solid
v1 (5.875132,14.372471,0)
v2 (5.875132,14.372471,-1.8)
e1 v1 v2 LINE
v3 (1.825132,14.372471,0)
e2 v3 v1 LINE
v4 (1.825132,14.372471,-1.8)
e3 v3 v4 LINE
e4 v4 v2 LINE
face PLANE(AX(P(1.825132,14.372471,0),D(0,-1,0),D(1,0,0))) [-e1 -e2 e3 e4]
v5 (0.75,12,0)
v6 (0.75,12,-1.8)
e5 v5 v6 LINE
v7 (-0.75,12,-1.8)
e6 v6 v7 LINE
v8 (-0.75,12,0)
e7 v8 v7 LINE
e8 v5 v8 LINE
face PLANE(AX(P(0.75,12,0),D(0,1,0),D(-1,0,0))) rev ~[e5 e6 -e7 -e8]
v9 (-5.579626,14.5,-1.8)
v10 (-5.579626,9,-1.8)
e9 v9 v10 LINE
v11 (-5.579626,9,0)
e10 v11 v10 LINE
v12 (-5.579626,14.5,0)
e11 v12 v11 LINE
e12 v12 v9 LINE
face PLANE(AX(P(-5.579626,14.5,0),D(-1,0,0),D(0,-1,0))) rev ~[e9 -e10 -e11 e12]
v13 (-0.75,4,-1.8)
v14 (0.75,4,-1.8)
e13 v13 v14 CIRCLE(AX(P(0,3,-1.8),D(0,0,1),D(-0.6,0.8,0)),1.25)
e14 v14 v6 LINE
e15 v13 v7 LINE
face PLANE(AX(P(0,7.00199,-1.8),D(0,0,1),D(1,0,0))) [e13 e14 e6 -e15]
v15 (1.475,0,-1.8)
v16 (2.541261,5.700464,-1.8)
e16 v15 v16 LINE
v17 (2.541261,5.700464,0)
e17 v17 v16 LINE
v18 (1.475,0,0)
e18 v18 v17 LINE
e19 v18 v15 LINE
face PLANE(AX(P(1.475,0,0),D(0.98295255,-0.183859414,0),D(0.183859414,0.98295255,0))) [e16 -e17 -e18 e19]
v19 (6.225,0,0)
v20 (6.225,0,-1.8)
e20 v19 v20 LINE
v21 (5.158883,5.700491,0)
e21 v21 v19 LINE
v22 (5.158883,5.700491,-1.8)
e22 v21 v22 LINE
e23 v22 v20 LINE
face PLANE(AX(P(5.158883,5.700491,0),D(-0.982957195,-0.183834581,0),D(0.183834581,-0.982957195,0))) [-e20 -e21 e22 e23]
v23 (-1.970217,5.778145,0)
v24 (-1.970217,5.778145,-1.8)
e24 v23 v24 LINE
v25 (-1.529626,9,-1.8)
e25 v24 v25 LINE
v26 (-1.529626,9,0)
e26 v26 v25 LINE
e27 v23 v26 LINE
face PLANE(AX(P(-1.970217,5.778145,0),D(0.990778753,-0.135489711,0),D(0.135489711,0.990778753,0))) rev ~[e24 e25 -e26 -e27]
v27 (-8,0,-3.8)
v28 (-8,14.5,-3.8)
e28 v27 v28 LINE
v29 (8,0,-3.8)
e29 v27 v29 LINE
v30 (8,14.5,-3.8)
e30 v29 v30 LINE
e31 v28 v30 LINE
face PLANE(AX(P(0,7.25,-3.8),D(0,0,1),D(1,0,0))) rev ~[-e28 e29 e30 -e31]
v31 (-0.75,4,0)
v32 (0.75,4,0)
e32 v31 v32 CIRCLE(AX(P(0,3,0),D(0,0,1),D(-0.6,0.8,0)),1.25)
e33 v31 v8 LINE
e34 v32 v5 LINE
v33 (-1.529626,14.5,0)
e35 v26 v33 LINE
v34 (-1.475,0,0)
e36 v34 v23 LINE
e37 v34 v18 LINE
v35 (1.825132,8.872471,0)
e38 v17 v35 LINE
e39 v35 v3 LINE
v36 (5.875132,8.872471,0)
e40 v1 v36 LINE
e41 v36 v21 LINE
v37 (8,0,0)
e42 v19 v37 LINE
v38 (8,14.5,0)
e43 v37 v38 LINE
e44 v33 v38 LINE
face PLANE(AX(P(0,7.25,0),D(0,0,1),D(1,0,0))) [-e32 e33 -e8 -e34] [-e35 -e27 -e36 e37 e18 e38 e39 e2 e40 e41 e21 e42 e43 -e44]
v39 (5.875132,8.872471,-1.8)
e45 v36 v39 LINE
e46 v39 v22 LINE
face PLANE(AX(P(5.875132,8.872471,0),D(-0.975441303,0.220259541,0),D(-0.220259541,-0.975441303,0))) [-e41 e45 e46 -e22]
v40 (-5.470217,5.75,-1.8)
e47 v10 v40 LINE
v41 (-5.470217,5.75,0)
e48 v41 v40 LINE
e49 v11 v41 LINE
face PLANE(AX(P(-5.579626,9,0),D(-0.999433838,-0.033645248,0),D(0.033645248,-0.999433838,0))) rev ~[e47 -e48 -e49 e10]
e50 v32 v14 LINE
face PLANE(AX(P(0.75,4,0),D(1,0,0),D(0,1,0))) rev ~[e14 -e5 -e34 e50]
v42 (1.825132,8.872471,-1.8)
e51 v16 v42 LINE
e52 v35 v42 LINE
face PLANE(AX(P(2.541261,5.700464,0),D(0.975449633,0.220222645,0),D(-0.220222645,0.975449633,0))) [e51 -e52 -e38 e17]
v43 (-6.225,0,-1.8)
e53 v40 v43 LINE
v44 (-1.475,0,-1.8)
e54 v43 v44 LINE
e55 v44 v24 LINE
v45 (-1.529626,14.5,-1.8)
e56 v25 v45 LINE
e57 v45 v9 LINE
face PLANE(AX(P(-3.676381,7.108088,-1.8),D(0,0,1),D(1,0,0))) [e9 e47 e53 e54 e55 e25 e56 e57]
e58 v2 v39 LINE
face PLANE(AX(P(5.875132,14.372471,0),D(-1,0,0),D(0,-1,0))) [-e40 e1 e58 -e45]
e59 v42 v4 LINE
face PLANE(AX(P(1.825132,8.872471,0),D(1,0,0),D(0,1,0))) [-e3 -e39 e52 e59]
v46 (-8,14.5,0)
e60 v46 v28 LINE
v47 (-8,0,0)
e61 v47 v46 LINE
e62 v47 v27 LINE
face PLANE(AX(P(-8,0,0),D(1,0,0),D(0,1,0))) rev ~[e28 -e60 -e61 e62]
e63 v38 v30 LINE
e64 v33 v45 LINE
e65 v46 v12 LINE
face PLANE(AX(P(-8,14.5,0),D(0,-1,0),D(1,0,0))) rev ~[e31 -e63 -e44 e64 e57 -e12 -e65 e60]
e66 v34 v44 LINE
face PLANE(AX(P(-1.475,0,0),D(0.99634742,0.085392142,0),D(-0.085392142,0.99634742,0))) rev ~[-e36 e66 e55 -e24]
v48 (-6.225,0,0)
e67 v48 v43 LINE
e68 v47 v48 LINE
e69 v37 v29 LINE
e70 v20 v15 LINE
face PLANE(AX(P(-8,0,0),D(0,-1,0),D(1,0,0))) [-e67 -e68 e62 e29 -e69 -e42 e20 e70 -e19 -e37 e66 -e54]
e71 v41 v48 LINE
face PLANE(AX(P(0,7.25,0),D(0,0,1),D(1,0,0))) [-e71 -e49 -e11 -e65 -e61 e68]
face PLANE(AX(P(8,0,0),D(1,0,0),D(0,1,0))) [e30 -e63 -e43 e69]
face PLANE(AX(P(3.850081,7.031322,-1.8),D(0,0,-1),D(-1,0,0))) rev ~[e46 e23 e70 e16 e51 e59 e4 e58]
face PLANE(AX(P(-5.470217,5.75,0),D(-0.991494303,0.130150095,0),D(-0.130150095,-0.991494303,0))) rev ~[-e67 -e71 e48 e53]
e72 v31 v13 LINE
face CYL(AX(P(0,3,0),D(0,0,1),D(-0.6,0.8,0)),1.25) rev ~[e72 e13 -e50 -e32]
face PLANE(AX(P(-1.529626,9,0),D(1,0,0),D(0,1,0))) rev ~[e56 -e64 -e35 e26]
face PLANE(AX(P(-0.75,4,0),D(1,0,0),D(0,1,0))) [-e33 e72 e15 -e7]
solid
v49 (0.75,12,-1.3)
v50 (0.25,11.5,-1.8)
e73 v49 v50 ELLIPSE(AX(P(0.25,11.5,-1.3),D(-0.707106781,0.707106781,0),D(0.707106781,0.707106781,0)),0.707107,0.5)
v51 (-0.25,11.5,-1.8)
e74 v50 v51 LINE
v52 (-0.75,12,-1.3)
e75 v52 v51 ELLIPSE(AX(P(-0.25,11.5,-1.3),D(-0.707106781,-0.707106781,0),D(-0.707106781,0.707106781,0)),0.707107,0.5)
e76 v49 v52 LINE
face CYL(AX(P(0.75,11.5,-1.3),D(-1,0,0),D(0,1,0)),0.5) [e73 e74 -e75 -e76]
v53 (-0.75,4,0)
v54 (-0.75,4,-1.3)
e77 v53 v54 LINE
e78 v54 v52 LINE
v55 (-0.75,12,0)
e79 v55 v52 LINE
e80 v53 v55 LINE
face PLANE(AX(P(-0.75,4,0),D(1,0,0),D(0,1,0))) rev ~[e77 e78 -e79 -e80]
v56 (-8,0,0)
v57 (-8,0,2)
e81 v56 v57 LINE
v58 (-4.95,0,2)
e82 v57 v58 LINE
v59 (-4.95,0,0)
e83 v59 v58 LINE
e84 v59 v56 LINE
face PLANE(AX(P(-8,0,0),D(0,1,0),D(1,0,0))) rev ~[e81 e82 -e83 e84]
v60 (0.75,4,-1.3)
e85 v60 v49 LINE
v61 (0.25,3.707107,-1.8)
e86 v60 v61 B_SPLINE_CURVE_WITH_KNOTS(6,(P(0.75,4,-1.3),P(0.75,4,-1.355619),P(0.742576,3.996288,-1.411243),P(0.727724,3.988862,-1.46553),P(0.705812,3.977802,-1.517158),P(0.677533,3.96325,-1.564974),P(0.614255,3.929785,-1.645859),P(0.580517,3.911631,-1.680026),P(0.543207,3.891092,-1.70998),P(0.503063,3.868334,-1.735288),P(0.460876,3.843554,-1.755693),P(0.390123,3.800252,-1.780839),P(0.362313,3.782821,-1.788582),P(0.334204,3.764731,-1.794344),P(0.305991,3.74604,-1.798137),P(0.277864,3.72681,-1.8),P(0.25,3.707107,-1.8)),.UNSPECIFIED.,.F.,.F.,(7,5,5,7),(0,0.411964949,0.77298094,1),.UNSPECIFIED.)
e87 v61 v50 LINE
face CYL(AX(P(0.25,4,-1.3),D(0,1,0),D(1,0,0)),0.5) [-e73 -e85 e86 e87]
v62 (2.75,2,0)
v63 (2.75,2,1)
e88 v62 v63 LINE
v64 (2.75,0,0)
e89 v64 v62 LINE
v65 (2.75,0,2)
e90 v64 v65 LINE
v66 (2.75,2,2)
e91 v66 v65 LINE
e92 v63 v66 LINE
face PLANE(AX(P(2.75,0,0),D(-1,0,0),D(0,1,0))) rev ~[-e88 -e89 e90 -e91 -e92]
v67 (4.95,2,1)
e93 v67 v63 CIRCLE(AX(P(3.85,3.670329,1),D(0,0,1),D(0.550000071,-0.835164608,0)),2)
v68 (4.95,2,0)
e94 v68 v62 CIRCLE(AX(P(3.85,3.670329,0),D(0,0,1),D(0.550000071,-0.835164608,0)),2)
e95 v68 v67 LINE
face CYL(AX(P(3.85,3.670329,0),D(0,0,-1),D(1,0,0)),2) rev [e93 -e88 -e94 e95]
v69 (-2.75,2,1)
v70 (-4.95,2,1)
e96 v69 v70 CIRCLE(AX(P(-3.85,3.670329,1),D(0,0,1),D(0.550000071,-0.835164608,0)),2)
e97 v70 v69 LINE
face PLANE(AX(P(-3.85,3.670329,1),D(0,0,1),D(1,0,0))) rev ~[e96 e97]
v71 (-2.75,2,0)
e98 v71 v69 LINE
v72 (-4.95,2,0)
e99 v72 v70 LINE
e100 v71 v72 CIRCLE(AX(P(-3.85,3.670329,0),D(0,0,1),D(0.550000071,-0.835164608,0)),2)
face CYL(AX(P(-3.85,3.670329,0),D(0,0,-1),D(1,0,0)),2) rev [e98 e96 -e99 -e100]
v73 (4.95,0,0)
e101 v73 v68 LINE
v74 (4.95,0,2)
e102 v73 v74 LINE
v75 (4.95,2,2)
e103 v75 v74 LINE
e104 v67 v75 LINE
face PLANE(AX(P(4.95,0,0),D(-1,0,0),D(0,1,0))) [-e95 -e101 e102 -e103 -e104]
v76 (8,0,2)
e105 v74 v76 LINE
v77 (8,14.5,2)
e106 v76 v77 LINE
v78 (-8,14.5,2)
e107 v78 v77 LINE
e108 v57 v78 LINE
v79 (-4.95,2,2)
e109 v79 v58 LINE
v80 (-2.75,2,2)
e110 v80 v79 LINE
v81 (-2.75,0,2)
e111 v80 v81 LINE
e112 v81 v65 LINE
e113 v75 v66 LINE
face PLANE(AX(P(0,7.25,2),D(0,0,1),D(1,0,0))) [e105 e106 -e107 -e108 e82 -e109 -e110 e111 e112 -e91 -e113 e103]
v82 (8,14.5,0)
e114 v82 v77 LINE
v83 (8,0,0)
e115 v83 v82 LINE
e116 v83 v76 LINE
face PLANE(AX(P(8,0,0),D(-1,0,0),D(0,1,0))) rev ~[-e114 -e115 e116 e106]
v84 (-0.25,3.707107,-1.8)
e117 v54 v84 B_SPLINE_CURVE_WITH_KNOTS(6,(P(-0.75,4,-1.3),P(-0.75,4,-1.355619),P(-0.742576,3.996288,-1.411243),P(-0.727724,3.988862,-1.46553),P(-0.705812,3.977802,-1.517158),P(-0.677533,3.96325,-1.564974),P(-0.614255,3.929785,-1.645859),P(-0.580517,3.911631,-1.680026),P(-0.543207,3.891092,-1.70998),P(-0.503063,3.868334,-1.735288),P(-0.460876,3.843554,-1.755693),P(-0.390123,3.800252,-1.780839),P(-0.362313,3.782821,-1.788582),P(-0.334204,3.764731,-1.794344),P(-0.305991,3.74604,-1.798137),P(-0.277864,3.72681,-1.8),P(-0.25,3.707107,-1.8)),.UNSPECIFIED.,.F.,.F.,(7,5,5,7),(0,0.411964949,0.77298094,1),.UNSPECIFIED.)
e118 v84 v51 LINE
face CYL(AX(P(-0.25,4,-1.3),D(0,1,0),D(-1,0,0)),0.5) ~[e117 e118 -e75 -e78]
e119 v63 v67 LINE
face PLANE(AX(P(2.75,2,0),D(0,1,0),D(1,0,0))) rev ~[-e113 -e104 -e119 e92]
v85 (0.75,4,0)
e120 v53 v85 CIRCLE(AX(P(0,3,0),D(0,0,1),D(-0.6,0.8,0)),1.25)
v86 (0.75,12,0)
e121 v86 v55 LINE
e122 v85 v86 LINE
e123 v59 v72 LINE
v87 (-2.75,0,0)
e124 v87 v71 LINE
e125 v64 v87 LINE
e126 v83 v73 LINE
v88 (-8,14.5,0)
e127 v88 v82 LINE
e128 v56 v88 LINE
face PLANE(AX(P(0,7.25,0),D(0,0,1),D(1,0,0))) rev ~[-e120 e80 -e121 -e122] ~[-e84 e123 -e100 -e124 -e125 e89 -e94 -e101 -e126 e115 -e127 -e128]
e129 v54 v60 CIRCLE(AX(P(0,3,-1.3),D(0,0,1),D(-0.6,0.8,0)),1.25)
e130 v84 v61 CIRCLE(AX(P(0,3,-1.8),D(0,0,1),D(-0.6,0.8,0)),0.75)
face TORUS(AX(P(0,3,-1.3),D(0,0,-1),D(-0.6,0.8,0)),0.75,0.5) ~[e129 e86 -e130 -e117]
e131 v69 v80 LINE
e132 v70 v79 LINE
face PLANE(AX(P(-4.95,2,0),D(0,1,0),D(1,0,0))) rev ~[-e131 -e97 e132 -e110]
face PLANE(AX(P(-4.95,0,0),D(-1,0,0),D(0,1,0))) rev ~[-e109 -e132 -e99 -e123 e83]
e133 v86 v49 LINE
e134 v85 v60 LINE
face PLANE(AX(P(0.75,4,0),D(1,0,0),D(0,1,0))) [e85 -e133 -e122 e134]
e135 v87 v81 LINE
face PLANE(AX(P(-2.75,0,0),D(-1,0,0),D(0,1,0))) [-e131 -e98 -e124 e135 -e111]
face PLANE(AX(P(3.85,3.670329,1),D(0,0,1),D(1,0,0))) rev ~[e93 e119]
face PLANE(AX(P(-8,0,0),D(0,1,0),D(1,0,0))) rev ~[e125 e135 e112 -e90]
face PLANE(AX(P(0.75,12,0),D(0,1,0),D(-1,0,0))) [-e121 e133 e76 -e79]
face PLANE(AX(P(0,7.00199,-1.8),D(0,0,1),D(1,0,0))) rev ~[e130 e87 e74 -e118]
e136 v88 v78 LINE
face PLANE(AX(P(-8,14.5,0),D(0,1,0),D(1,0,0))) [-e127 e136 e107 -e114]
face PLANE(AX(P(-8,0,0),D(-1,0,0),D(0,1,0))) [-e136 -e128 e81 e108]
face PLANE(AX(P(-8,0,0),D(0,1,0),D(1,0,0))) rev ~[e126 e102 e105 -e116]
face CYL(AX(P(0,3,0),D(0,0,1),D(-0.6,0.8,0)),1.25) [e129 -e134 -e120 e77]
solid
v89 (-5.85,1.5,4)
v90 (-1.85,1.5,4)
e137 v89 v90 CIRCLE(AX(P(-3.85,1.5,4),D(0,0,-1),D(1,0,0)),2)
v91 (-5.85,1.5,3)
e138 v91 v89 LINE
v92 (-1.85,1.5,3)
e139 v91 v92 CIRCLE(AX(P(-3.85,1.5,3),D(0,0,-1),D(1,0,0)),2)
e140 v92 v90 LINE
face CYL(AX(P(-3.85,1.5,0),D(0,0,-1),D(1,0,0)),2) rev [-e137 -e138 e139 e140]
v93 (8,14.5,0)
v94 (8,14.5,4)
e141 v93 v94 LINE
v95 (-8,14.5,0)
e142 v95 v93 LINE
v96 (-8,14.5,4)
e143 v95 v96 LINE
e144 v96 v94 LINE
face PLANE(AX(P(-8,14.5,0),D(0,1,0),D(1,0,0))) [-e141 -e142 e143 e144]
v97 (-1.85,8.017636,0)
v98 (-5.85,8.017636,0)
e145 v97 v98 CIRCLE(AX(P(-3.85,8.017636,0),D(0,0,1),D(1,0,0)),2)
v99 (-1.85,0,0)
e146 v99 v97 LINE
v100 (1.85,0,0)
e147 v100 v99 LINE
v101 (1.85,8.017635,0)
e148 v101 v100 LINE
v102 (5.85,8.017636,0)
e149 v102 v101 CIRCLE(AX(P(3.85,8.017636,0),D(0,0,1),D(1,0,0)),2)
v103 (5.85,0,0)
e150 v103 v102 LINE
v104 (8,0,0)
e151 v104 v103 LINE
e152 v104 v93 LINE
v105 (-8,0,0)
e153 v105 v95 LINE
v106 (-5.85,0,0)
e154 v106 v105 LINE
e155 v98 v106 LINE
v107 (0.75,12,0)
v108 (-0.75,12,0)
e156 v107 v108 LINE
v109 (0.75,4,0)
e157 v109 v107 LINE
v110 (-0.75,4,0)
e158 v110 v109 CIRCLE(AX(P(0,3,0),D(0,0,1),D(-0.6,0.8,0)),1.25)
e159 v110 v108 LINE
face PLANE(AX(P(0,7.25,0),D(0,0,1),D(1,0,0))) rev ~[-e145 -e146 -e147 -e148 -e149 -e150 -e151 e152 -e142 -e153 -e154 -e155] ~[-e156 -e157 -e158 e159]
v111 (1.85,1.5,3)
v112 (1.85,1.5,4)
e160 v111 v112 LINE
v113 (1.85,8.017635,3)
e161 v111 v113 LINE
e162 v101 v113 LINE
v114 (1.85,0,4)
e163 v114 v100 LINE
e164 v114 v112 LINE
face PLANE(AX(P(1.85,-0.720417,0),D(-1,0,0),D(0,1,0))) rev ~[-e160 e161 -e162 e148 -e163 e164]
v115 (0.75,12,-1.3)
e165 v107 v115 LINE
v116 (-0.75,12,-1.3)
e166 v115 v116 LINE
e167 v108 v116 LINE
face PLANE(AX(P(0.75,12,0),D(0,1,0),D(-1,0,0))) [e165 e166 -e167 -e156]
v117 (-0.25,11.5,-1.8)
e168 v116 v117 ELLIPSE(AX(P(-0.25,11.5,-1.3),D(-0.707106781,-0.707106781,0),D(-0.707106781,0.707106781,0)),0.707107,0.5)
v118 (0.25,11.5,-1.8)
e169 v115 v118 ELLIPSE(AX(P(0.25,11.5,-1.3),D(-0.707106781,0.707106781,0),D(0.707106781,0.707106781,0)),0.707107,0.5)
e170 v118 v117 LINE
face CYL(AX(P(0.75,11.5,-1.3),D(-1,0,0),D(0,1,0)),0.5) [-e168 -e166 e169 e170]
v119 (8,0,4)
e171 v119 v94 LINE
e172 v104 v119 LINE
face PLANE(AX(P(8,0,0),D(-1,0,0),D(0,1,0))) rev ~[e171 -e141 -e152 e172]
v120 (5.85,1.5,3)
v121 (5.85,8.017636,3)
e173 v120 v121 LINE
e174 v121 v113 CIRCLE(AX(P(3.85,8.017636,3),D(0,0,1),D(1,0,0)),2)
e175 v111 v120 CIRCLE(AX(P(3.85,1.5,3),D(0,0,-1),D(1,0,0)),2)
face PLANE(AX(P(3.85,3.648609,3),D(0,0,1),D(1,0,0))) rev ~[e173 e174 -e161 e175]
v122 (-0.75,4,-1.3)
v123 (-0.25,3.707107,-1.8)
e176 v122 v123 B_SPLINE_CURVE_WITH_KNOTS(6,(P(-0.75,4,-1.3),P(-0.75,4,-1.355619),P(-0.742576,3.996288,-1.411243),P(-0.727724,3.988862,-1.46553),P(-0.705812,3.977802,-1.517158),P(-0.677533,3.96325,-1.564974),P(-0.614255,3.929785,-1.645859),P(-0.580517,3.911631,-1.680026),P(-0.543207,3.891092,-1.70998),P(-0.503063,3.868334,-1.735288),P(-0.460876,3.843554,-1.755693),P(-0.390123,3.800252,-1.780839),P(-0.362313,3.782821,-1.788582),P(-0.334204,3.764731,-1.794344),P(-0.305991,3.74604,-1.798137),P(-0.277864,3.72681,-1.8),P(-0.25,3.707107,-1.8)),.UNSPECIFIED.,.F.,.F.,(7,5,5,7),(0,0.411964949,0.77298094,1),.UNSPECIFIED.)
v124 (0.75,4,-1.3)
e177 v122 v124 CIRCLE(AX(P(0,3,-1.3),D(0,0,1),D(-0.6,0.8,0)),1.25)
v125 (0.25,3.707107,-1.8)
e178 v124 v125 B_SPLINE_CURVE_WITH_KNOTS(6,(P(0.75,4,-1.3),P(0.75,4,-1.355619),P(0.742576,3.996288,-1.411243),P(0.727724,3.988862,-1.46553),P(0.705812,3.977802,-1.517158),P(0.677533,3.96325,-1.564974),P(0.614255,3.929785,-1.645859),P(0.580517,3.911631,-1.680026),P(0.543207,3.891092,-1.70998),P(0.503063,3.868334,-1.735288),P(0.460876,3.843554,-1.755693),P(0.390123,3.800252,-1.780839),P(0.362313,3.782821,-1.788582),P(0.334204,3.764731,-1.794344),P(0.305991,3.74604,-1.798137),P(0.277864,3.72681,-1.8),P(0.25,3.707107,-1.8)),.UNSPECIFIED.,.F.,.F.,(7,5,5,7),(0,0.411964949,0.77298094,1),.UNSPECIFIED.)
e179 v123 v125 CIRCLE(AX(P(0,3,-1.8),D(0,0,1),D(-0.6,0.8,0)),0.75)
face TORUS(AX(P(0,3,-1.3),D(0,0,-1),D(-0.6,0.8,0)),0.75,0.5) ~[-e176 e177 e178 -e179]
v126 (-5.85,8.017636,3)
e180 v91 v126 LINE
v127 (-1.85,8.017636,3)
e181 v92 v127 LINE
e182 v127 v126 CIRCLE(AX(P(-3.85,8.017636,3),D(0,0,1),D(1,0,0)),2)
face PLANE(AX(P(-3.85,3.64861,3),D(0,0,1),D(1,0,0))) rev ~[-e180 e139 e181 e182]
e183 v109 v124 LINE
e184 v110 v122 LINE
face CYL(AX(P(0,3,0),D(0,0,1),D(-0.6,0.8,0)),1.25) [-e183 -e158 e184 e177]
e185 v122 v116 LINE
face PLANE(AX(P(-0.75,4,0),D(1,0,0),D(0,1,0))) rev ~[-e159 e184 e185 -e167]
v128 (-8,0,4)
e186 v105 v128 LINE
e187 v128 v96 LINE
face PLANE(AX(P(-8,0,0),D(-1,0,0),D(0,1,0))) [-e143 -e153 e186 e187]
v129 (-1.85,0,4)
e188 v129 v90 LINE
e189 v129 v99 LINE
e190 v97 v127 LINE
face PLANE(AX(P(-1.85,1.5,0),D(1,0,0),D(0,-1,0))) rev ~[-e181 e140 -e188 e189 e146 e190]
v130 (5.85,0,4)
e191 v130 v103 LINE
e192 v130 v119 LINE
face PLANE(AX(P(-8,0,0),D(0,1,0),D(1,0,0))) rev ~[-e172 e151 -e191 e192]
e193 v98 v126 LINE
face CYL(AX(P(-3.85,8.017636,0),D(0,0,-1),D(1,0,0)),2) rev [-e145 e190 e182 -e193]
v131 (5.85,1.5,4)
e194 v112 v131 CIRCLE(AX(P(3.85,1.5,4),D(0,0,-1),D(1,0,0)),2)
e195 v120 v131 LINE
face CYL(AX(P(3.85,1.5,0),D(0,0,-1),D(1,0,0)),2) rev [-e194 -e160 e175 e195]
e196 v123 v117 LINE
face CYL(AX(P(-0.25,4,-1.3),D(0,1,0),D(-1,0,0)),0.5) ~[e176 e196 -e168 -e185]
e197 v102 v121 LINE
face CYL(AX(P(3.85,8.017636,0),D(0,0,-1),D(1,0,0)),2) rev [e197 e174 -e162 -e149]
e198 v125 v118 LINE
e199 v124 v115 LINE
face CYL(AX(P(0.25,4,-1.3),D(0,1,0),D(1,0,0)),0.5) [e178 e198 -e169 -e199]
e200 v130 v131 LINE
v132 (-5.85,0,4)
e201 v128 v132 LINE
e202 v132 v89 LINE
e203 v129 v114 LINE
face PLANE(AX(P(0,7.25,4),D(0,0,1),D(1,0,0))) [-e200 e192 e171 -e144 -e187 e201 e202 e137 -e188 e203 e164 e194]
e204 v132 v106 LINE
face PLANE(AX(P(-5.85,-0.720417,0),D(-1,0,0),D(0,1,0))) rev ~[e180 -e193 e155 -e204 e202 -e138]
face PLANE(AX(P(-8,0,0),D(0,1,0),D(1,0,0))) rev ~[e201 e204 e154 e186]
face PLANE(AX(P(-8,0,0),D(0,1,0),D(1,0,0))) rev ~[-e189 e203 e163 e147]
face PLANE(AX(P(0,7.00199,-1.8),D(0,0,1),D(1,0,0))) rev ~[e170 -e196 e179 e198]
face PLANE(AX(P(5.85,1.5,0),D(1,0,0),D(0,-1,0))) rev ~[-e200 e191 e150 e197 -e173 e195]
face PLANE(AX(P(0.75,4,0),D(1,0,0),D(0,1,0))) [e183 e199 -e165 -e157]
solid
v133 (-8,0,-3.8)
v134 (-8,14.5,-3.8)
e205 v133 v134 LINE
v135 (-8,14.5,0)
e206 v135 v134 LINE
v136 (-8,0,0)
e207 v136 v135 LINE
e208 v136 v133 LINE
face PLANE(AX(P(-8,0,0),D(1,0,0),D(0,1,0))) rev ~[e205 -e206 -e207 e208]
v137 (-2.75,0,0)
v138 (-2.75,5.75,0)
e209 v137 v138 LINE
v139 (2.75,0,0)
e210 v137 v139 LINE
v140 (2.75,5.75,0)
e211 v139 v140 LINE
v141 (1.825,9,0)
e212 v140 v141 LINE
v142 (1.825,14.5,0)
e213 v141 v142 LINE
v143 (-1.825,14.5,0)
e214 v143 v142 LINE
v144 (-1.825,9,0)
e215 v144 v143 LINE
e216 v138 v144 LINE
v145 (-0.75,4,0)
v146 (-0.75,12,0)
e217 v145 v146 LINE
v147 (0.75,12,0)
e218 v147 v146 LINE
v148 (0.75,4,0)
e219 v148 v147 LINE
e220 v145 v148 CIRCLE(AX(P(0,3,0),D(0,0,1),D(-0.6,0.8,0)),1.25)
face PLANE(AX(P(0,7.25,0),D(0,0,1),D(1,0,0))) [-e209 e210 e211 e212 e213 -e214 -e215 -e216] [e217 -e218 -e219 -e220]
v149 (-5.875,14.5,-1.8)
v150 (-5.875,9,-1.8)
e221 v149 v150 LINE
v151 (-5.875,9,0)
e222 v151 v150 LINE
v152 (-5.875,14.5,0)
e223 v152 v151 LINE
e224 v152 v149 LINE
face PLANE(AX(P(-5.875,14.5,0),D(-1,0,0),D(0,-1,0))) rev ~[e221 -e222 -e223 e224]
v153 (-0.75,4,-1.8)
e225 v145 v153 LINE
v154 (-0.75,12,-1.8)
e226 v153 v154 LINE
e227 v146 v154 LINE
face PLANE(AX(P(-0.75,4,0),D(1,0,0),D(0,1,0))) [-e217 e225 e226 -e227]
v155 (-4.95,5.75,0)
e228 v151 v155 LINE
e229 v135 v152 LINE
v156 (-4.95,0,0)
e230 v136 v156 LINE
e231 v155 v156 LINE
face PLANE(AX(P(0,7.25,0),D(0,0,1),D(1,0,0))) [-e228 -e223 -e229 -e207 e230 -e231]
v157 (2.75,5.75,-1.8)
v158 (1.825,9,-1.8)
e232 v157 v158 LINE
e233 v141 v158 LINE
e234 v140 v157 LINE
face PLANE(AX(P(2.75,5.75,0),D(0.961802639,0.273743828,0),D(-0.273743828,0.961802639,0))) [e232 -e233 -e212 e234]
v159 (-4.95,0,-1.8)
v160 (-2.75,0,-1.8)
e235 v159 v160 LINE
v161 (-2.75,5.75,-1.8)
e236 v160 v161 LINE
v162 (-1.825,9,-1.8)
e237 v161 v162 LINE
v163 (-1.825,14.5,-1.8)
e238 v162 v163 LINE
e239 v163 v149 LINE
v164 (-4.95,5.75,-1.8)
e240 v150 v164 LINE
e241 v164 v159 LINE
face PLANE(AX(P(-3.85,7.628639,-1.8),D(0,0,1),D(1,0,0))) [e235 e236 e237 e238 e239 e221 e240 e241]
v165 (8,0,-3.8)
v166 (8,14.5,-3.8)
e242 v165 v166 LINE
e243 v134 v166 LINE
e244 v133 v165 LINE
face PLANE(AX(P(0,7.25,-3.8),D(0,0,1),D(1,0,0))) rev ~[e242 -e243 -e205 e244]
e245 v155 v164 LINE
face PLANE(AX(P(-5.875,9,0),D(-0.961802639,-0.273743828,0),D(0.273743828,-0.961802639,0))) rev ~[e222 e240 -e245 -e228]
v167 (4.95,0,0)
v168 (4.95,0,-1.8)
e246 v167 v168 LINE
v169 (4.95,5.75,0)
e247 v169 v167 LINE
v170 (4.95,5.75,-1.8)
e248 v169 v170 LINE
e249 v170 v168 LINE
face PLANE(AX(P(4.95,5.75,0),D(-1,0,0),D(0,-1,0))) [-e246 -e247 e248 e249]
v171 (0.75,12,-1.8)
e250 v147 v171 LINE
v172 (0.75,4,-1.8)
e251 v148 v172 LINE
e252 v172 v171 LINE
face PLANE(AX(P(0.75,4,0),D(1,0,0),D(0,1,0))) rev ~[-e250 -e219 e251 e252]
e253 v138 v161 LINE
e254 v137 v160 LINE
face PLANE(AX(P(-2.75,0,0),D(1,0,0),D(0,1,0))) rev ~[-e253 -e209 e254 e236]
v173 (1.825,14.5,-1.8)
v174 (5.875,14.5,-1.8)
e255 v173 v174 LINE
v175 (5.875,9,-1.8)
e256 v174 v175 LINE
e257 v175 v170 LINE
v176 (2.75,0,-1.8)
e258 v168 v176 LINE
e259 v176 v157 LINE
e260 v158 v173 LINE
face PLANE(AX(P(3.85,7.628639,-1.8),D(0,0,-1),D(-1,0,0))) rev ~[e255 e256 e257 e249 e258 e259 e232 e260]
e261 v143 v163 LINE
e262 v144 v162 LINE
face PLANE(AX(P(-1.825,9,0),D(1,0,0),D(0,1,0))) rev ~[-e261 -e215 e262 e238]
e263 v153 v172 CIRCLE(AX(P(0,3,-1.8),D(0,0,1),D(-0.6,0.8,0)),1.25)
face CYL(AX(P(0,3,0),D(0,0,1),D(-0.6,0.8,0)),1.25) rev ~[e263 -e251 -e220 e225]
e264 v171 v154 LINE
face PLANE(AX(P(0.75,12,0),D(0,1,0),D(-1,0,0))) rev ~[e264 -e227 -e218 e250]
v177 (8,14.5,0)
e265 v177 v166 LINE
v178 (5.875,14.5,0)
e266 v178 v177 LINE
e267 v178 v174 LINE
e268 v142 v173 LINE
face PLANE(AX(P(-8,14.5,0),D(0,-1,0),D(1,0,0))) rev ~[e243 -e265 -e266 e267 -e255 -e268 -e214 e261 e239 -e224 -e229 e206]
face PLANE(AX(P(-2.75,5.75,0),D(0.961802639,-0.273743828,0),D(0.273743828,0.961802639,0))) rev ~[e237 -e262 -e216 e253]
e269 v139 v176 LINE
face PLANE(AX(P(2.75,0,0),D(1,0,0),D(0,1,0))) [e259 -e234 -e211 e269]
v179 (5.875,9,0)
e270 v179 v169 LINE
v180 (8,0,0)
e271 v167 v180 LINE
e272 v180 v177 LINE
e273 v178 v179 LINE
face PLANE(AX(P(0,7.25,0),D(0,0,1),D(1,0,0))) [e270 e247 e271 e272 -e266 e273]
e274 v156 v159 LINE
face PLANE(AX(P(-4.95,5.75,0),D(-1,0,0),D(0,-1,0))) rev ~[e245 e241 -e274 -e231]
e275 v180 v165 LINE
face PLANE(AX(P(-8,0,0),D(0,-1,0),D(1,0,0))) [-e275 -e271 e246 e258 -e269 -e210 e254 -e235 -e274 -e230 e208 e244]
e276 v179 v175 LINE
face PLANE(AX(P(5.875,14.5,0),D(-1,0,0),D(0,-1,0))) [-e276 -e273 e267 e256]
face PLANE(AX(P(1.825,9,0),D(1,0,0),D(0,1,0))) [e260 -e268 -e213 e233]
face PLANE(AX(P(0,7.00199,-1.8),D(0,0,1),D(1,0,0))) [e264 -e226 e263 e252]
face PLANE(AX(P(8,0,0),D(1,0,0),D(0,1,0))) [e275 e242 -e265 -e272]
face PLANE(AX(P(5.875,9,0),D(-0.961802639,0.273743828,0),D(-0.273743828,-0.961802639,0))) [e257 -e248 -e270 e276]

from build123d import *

# Parameters (mm, degrees)
SKETCH_W             = 16
SKETCH_H             = 14.5
PAD_DEPTH            = 3.8
POCKET_DEPTH         = 1.8
SKETCH002_W          = 16
SKETCH002_H          = 14.5
PAD001_DEPTH         = 2
PAD002_DEPTH         = 1.8
FILLET_R             = 0.5
SKETCH004_W          = 2.2
SKETCH004_H          = 2
POCKET001_DEPTH      = 100
POCKET001_DEPTH_BACK = -100
SKETCH005_R          = 2
POCKET002_DEPTH      = 1
SKETCH006_W          = 16
SKETCH006_H          = 14.5
PAD003_DEPTH         = 3.8
POCKET003_DEPTH      = 1.8
SKETCH008_W          = 16
SKETCH008_H          = 14.5
PAD004_DEPTH         = 4
PAD005_DEPTH         = 1.8
FILLET001_R          = 0.5
POCKET004_DEPTH      = 100
POCKET004_DEPTH_BACK = -100
POCKET005_DEPTH      = 3


with BuildPart() as bottom_small_gauge:
    # Sketch → Pad (new body)
    with BuildSketch(Plane.XY):
        with Locations((0, 7.25)):
            Rectangle(SKETCH_W, SKETCH_H)
    extrude(amount=-PAD_DEPTH)

    # Sketch001 → Pocket (cut)
    with BuildSketch(Plane.XY):
        Polygon((-5.875, 14.5), (-5.875, 9), (-4.95, 5.75), (-4.95, 0), (-2.75, 0), (-2.75, 5.75), (-1.825, 9), (-1.825, 14.5), align=None)
        Polygon((2.75, 0), (2.75, 5.75), (1.825, 9), (1.825, 14.5), (5.875, 14.5), (5.875, 9), (4.95, 5.75), (4.95, 0), align=None)
        with BuildLine():
            ThreePointArc((-0.75, 4), (0, 1.75), (0.75, 4))
            Line((0.75, 4), (0.75, 12))
            Line((0.75, 12), (-0.75, 12))
            Line((-0.75, 4), (-0.75, 12))
        make_face()
    extrude(amount=-POCKET_DEPTH, mode=Mode.SUBTRACT)


with BuildPart() as top_small_gauge:
    # Sketch002 → Pad001 (new body)
    with BuildSketch(Plane.XY):
        with Locations((0, 7.25)):
            Rectangle(SKETCH002_W, SKETCH002_H)
    extrude(amount=PAD001_DEPTH)

    # Sketch003 → Pad002 (join)
    with BuildSketch(Plane.XY):
        with BuildLine():
            ThreePointArc((-0.75, 4), (0, 1.75), (0.75, 4))
            Line((0.75, 4), (0.75, 12))
            Line((0.75, 12), (-0.75, 12))
            Line((-0.75, 4), (-0.75, 12))
        make_face()
    extrude(amount=-PAD002_DEPTH)

    # Fillet
    fillet_edges = [top_small_gauge.edges().sort_by_distance(p)[0] for p in [
        (0, 1.75, -1.8),
        (0.75, 8, -1.8),
        (0, 12, -1.8),
        (-0.75, 8, -1.8),
    ]]
    fillet(fillet_edges, radius=FILLET_R)

    # Sketch004 → Pocket001 (cut, two sides)
    with BuildSketch(Plane.XY) as pocket001_sk:
        with Locations((-3.85, 1)):
            Rectangle(SKETCH004_W, SKETCH004_H)
        with Locations((3.85, 1)):
            Rectangle(SKETCH004_W, SKETCH004_H)
    extrude(amount=-POCKET001_DEPTH, mode=Mode.SUBTRACT)
    extrude(pocket001_sk.sketch, amount=-POCKET001_DEPTH_BACK, mode=Mode.SUBTRACT)

    # Sketch005 → Pocket002 (cut)
    with BuildSketch(Plane.XY):
        with Locations((-3.85, 3.670329)):
            Circle(SKETCH005_R)
        with Locations((3.85, 3.670329)):
            Circle(SKETCH005_R)
    extrude(amount=POCKET002_DEPTH, mode=Mode.SUBTRACT)


with BuildPart() as bottom_large_gauge:
    # Sketch006 → Pad003 (new body)
    with BuildSketch(Plane.XY):
        with Locations((0, 7.25)):
            Rectangle(SKETCH006_W, SKETCH006_H)
    extrude(amount=-PAD003_DEPTH)

    # Sketch007 → Pocket003 (cut)
    with BuildSketch(Plane.XY):
        Polygon((-5.579626, 14.5), (-5.579626, 9), (-5.470217, 5.75), (-6.225, 0), (-1.475, 0), (-1.970217, 5.778145), (-1.529626, 9), (-1.529626, 14.5), align=None)
        Polygon((1.475, 0), (2.541261, 5.700464), (1.825132, 8.872471), (1.825132, 14.372471), (5.875132, 14.372471), (5.875132, 8.872471), (5.158883, 5.700491), (6.225, 0), align=None)
        with BuildLine():
            ThreePointArc((-0.75, 4), (0, 1.75), (0.75, 4))
            Line((0.75, 4), (0.75, 12))
            Line((0.75, 12), (-0.75, 12))
            Line((-0.75, 4), (-0.75, 12))
        make_face()
    extrude(amount=-POCKET003_DEPTH, mode=Mode.SUBTRACT)


with BuildPart() as top_large_gauge:
    # Sketch008 → Pad004 (new body)
    with BuildSketch(Plane.XY):
        with Locations((0, 7.25)):
            Rectangle(SKETCH008_W, SKETCH008_H)
    extrude(amount=PAD004_DEPTH)

    # Sketch009 → Pad005 (join)
    with BuildSketch(Plane.XY):
        with BuildLine():
            ThreePointArc((-0.75, 4), (0, 1.75), (0.75, 4))
            Line((0.75, 4), (0.75, 12))
            Line((0.75, 12), (-0.75, 12))
            Line((-0.75, 4), (-0.75, 12))
        make_face()
    extrude(amount=-PAD005_DEPTH)

    # Fillet001
    fillet001_edges = [top_large_gauge.edges().sort_by_distance(p)[0] for p in [
        (0, 1.75, -1.8),
        (0.75, 8, -1.8),
        (0, 12, -1.8),
        (-0.75, 8, -1.8),
    ]]
    fillet(fillet001_edges, radius=FILLET001_R)

    # Sketch010 → Pocket004 (cut, two sides)
    with BuildSketch(Plane.XY) as pocket004_sk:
        with BuildLine():
            ThreePointArc((-1.85, 1.5), (-3.85, 3.5), (-5.85, 1.5))
            Line((-5.85, 1.5), (-5.85, -3.281396))
            Line((-5.85, -3.281396), (-1.85, -3.281396))
            Line((-1.85, 1.5), (-1.85, -3.281396))
        make_face()
        with BuildLine():
            ThreePointArc((5.85, 1.5), (3.85, 3.5), (1.85, 1.5))
            Line((1.85, 1.5), (1.85, -3.281396))
            Line((1.85, -3.281396), (5.85, -3.281396))
            Line((5.85, 1.5), (5.85, -3.281396))
        make_face()
    extrude(amount=-POCKET004_DEPTH, mode=Mode.SUBTRACT)
    extrude(pocket004_sk.sketch, amount=-POCKET004_DEPTH_BACK, mode=Mode.SUBTRACT)

    # Sketch011 → Pocket005 (cut)
    with BuildSketch(Plane.XY):
        with BuildLine():
            ThreePointArc((-5.85, -0.720417), (-3.85, -2.720417), (-1.85, -0.720417))
            Line((-1.85, -0.720417), (-1.85, 8.017636))
            ThreePointArc((-1.85, 8.017636), (-3.85, 10.017636), (-5.85, 8.017636))
            Line((-5.85, -0.720417), (-5.85, 8.017636))
        make_face()
        with BuildLine():
            ThreePointArc((1.85, -0.720417), (3.85, -2.720417), (5.85, -0.720417))
            Line((5.85, -0.720417), (5.85, 8.017636))
            ThreePointArc((5.85, 8.017636), (3.85, 10.017636), (1.85, 8.017635))
            Line((1.85, -0.720417), (1.85, 8.017635))
        make_face()
    extrude(amount=POCKET005_DEPTH, mode=Mode.SUBTRACT)


solid = Compound([bottom_small_gauge.part, top_small_gauge.part, bottom_large_gauge.part, top_large_gauge.part])
